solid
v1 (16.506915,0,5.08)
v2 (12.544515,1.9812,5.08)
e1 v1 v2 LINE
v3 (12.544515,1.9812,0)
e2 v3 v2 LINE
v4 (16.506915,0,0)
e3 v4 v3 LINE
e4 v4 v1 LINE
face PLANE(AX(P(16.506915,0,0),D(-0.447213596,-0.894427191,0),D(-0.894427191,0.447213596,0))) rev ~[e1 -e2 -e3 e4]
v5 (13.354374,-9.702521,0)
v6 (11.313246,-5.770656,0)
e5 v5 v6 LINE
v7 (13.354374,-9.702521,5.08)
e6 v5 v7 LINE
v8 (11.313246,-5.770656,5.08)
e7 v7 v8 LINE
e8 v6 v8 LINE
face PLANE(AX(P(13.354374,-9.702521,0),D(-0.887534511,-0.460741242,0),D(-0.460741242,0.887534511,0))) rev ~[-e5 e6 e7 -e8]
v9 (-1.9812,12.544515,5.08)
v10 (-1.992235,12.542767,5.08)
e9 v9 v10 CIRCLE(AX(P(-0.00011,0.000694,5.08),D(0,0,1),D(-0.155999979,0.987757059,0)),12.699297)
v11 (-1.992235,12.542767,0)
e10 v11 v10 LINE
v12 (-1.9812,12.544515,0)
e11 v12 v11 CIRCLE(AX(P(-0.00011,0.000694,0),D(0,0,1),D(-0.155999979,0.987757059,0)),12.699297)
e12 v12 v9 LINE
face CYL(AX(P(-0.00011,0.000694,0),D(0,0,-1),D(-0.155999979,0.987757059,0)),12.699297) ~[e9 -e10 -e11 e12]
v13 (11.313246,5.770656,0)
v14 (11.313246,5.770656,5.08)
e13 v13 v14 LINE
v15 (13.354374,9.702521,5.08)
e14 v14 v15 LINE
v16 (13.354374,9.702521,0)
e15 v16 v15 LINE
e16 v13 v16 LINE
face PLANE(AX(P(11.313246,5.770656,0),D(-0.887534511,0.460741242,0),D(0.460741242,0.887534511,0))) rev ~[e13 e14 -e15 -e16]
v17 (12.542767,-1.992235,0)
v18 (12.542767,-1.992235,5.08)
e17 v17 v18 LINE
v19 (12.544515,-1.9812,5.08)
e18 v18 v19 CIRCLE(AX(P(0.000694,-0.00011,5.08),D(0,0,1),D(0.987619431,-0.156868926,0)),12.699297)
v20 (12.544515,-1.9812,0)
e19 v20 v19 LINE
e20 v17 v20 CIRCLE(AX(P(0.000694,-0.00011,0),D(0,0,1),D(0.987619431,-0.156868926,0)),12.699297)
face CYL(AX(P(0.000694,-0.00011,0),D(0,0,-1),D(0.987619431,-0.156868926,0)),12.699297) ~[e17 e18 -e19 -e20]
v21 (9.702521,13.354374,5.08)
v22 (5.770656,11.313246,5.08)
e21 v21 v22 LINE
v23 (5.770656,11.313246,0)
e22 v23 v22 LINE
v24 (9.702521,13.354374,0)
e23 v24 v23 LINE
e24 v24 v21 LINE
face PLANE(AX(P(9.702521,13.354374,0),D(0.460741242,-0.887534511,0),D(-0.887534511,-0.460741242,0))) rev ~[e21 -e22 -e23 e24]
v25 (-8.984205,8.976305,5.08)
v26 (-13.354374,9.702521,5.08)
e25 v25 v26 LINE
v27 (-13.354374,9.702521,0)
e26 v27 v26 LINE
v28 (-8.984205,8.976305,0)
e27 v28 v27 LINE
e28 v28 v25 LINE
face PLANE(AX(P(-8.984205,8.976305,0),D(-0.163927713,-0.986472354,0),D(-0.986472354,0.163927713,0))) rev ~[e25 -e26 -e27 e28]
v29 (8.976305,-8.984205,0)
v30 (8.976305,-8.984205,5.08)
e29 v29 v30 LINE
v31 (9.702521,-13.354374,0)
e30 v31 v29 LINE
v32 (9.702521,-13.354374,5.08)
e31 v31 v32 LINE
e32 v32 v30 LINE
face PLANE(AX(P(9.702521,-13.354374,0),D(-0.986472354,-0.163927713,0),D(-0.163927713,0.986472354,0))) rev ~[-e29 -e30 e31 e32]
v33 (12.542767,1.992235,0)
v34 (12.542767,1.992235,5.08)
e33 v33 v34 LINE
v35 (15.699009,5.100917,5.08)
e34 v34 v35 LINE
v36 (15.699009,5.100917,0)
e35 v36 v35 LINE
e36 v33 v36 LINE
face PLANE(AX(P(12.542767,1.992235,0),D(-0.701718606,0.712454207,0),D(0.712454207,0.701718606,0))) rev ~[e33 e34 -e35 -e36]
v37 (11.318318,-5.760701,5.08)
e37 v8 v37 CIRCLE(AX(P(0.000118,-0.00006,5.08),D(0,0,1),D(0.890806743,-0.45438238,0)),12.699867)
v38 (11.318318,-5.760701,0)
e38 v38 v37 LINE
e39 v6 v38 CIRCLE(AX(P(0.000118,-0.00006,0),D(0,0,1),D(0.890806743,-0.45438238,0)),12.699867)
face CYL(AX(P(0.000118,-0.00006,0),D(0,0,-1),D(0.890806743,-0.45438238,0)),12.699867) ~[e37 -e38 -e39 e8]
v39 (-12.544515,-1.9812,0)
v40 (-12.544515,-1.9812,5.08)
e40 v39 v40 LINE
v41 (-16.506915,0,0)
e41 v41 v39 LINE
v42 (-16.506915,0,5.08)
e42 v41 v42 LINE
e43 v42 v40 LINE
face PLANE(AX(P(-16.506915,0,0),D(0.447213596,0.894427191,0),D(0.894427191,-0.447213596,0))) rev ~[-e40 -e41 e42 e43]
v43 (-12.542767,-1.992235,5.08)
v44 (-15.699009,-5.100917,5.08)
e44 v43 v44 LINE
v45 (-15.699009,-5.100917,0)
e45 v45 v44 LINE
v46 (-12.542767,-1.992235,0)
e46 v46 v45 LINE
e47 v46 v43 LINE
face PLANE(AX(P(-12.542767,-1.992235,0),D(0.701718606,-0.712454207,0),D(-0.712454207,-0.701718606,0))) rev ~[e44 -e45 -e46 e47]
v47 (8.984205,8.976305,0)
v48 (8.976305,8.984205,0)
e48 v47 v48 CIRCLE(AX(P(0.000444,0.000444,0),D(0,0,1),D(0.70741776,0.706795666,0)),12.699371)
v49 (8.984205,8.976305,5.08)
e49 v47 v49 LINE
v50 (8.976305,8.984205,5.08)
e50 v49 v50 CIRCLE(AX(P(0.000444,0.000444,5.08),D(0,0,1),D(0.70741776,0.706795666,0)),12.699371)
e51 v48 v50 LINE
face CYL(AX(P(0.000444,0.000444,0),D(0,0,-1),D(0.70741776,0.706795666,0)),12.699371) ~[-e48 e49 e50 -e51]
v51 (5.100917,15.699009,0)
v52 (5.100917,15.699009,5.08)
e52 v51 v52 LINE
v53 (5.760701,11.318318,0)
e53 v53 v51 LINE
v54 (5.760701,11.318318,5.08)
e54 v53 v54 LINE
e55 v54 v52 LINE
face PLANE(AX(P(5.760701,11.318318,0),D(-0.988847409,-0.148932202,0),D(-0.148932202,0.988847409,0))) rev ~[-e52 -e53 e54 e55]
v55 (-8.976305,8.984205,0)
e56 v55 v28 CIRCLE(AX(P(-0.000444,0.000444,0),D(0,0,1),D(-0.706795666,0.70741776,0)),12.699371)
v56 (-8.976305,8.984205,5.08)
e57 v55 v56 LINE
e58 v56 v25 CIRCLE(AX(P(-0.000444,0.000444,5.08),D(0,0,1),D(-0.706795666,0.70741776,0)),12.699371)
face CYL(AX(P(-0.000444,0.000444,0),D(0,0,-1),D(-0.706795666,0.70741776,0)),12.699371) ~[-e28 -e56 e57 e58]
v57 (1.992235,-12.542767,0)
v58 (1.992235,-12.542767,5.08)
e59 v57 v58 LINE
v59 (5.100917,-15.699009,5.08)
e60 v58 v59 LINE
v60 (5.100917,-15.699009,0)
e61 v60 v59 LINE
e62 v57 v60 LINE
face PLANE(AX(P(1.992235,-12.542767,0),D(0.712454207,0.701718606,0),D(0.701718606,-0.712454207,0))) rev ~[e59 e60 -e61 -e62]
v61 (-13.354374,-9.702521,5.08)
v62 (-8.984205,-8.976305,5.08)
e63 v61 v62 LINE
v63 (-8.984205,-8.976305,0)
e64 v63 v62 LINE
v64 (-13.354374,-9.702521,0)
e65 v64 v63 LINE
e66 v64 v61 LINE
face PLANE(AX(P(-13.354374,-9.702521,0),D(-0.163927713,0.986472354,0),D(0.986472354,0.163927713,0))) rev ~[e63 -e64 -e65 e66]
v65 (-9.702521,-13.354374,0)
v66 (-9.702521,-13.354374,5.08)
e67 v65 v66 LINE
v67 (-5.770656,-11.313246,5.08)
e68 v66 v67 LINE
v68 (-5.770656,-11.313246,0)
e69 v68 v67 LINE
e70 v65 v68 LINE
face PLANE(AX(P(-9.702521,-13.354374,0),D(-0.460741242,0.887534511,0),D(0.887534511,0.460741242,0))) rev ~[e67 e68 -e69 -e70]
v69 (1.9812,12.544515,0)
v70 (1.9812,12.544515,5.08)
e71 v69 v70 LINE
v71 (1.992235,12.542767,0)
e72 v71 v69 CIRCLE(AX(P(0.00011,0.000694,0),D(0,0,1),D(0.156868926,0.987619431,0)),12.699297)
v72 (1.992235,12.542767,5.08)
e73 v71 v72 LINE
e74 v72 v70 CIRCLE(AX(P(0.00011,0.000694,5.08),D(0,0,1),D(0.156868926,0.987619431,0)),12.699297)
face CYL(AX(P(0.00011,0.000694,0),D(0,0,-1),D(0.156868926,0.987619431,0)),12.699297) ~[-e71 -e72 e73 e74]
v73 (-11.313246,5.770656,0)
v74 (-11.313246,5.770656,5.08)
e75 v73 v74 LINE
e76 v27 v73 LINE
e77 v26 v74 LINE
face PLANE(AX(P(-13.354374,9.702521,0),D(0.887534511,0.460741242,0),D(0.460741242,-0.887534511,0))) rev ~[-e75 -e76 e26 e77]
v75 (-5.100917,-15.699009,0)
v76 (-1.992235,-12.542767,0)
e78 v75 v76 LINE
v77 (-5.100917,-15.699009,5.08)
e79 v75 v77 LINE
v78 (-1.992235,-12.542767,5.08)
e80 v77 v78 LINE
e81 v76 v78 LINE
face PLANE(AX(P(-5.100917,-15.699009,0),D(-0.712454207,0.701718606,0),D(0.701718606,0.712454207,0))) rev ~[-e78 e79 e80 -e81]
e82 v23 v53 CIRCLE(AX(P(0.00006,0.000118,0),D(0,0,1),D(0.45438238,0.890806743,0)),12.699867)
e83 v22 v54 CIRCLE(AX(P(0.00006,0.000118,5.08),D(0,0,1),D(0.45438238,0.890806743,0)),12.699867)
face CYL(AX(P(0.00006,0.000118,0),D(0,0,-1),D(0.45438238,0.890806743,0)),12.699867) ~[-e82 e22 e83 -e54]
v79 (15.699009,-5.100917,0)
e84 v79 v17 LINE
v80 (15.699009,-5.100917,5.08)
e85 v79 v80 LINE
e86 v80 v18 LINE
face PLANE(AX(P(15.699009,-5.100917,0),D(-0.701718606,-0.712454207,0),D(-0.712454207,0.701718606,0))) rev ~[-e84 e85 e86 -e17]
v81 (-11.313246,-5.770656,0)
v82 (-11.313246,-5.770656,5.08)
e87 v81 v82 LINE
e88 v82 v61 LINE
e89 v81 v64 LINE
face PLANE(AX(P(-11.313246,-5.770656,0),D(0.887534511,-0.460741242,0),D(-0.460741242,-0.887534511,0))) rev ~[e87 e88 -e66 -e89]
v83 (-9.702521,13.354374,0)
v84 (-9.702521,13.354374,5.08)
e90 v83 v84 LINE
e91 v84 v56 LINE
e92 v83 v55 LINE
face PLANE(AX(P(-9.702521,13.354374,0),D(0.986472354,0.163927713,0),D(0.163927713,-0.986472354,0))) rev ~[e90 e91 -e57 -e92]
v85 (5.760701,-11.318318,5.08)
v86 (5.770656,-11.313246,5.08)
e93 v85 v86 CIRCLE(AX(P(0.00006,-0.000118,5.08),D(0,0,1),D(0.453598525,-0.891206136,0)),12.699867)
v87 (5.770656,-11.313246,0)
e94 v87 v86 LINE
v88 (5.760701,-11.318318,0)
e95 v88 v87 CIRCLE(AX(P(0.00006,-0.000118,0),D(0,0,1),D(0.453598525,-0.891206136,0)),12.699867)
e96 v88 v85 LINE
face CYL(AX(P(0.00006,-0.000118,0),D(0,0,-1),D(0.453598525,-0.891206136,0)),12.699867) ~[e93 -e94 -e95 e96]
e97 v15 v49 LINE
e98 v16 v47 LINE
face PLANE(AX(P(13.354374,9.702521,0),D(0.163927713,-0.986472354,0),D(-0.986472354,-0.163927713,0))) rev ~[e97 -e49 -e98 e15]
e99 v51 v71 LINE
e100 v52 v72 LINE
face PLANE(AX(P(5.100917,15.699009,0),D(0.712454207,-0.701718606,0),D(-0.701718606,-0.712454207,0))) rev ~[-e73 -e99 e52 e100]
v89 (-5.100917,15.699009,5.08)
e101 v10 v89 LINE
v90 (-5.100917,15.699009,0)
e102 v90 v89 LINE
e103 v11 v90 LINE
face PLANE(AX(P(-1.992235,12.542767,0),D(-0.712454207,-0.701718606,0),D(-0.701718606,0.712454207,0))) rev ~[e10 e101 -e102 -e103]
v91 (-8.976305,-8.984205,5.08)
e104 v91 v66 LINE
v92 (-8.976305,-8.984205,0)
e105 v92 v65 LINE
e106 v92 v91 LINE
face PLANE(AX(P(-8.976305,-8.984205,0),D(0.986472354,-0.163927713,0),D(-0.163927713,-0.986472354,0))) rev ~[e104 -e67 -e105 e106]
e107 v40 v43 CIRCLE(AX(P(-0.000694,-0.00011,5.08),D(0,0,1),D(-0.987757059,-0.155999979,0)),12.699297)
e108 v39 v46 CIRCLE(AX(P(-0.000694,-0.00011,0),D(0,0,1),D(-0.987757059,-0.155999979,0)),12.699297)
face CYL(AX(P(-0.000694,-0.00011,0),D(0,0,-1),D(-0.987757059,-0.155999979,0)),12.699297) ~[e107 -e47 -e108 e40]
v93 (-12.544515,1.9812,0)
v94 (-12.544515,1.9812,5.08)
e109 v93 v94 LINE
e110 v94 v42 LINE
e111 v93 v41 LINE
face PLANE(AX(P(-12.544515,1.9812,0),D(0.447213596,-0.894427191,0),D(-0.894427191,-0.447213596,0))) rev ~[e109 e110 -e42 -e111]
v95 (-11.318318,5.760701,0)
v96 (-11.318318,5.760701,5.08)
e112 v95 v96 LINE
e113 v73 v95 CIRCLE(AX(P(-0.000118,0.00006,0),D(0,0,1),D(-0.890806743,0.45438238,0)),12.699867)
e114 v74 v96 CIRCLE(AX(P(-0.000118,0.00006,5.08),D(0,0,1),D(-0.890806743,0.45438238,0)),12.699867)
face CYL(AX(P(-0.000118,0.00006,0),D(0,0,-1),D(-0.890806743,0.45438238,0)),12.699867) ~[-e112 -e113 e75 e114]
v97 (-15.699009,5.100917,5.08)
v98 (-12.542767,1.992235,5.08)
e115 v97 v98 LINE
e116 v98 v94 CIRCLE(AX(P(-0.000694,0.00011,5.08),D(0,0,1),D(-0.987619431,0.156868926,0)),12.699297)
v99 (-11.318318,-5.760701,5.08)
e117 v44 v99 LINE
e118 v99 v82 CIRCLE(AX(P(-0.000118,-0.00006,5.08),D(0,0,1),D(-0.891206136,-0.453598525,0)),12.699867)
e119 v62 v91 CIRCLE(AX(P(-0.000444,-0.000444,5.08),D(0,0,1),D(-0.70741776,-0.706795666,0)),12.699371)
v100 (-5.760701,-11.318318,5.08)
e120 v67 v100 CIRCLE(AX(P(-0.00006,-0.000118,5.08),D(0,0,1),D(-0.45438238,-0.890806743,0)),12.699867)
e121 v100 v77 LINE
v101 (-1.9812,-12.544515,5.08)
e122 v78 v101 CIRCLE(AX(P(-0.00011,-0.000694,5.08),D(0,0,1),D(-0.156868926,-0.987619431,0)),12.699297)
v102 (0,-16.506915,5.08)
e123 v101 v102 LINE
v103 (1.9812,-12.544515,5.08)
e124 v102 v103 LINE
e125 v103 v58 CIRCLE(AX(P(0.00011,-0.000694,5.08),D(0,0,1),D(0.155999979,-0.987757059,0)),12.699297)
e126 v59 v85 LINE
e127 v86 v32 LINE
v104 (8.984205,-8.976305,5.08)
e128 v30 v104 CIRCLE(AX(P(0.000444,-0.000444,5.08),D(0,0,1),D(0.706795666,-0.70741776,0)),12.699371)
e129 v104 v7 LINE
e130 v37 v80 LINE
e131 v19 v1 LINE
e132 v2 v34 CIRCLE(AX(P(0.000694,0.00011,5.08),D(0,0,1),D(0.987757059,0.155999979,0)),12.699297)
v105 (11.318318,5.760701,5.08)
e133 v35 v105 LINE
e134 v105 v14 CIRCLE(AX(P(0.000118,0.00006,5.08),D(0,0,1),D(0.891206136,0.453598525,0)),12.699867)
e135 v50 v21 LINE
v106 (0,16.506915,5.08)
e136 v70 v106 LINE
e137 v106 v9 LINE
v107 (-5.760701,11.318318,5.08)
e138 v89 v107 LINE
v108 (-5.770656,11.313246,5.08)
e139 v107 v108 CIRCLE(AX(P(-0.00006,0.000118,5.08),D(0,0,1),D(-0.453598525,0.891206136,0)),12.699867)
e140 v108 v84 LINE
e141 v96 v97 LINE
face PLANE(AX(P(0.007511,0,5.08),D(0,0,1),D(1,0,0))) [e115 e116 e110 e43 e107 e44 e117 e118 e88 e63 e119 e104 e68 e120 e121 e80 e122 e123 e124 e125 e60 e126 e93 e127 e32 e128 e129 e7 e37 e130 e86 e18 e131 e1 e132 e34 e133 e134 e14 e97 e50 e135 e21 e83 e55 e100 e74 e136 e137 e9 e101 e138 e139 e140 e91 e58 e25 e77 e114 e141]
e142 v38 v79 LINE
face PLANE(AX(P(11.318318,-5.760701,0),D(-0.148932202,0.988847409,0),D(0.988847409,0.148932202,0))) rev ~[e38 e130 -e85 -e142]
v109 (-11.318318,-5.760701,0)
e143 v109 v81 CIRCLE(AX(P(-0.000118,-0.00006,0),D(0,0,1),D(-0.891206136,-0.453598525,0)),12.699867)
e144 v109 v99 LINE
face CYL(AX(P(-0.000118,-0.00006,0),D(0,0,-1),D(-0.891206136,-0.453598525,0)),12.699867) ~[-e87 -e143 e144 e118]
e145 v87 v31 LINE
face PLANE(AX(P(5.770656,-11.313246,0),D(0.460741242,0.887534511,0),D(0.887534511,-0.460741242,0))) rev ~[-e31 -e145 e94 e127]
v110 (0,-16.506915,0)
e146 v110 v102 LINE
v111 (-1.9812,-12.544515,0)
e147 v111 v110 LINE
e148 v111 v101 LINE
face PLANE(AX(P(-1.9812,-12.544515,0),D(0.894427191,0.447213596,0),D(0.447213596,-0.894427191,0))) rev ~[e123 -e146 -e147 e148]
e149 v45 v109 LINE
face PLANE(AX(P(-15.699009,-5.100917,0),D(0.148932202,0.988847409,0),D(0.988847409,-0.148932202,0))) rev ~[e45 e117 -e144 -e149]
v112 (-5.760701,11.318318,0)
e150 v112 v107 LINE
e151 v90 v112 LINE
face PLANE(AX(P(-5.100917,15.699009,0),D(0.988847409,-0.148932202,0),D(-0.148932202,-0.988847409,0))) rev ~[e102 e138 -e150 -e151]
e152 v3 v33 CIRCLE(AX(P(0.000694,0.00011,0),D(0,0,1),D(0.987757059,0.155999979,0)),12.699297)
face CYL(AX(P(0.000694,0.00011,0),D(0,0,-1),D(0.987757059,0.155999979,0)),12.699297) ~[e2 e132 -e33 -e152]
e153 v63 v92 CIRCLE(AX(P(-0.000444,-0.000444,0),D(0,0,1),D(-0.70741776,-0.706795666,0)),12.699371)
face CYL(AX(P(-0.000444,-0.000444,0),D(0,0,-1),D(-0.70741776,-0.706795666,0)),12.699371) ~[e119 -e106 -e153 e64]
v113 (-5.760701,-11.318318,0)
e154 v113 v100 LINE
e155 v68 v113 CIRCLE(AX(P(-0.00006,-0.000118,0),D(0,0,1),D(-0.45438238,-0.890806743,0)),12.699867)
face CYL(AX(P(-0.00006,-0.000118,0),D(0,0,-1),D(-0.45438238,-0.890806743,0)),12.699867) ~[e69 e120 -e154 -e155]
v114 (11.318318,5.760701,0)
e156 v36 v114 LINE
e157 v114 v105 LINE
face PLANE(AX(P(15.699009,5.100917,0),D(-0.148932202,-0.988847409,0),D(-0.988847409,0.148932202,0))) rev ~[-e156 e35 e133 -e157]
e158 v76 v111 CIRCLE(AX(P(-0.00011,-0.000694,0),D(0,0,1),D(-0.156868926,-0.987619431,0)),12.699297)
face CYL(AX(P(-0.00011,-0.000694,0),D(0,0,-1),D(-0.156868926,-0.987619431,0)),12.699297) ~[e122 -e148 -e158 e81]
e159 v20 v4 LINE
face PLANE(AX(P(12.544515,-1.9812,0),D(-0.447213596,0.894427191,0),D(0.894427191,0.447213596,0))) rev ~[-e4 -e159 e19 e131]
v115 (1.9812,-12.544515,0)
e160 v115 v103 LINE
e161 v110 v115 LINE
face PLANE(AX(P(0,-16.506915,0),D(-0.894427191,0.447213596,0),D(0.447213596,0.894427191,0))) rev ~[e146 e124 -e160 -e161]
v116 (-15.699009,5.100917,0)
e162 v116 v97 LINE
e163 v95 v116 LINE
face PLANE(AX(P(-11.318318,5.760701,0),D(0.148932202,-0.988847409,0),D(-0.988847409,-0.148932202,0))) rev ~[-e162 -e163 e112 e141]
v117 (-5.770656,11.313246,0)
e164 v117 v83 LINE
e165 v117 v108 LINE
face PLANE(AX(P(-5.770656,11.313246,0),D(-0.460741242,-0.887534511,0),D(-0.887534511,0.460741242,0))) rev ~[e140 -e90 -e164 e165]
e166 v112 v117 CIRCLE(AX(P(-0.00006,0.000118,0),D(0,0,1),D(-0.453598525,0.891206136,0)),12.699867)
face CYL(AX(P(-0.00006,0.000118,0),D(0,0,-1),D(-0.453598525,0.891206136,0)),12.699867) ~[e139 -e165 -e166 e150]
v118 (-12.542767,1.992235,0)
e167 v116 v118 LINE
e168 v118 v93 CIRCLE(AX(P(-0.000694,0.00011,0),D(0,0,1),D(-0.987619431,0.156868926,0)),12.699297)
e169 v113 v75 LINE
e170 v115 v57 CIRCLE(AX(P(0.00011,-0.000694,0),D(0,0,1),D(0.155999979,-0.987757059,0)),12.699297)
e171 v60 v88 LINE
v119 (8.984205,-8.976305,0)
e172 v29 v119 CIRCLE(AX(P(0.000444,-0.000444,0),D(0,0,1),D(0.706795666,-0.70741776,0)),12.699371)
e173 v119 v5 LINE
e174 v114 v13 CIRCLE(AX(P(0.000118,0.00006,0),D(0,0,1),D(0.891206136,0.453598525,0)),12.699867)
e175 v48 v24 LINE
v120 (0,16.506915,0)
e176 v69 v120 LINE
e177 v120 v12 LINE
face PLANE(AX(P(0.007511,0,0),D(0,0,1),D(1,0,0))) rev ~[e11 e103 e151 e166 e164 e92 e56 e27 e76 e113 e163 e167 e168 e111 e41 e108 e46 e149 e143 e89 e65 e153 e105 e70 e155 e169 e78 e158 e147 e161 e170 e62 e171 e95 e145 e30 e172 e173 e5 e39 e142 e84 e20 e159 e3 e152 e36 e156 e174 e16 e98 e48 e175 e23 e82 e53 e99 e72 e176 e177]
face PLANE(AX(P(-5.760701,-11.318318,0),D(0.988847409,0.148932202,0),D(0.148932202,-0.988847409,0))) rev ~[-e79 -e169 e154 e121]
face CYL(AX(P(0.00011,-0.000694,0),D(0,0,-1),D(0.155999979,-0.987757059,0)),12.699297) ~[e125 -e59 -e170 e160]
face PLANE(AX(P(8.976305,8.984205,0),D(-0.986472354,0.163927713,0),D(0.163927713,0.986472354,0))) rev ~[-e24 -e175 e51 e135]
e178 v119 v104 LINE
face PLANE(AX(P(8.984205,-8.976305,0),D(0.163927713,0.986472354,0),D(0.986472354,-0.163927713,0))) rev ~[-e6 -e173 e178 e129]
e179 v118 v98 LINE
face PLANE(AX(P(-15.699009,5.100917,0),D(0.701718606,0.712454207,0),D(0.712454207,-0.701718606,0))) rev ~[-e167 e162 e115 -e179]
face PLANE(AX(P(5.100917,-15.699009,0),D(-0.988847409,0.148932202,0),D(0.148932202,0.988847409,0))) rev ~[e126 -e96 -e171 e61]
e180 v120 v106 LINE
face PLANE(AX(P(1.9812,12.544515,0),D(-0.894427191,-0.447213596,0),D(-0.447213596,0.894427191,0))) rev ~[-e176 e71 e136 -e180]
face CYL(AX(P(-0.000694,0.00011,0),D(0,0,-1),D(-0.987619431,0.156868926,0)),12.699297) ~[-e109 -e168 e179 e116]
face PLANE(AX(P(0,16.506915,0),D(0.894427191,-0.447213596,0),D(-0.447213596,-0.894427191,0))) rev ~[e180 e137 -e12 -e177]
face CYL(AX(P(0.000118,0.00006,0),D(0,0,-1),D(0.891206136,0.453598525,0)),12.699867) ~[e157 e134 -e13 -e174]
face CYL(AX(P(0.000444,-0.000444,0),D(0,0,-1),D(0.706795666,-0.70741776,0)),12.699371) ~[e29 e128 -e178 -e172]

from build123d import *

# Parameters (mm, degrees)
F0_R     = 11.43
F0_R_2   = 5.08
F0_R_3   = 3.81
F1_DEPTH = 5.08


with BuildPart() as f1:
    # F0 (on Top) → F1 (new body)
    with BuildSketch(Plane.XY):
        with BuildLine():
            ThreePointArc((12.5445146004, -1.9812), (12.6610689799, -0.9936459568), (12.7, 0))
            ThreePointArc((12.7, 0), (12.6610689799, 0.9936459568), (12.5445146004, 1.9812))
            ThreePointArc((12.5445146004, 1.9812), (12.5436419256, 1.986717706), (12.5427668237, 1.9922350276))
            ThreePointArc((12.5427668237, 1.9922350276), (12.0784177569, 3.9245158286), (11.3183178852, 5.7607013678))
            ThreePointArc((11.3183178852, 5.7607013678), (11.3157828572, 5.7656793467), (11.3132456398, 5.77065621))
            ThreePointArc((11.3132456398, 5.77065621), (10.2745158286, 7.4648727041), (8.9842053561, 8.9763051485))
            ThreePointArc((8.9842053561, 8.9763051485), (8.9802561211, 8.9802561211), (8.9763051485, 8.9842053561))
            ThreePointArc((8.9763051485, 8.9842053561), (7.4648727041, 10.2745158286), (5.77065621, 11.3132456398))
            ThreePointArc((5.77065621, 11.3132456398), (5.7656793467, 11.3157828572), (5.7607013678, 11.3183178852))
            ThreePointArc((5.7607013678, 11.3183178852), (3.9245158286, 12.0784177569), (1.9922350276, 12.5427668237))
            ThreePointArc((1.9922350276, 12.5427668237), (1.986717706, 12.5436419256), (1.9812, 12.5445146004))
            ThreePointArc((1.9812, 12.5445146004), (0, 12.7), (-1.9812, 12.5445146004))
            ThreePointArc((-1.9812, 12.5445146004), (-1.986717706, 12.5436419256), (-1.9922350276, 12.5427668237))
            ThreePointArc((-1.9922350276, 12.5427668237), (-3.9245158286, 12.0784177569), (-5.7607013678, 11.3183178852))
            ThreePointArc((-5.7607013678, 11.3183178852), (-5.7656793467, 11.3157828572), (-5.77065621, 11.3132456398))
            ThreePointArc((-5.77065621, 11.3132456398), (-7.4648727041, 10.2745158286), (-8.9763051485, 8.9842053561))
            ThreePointArc((-8.9763051485, 8.9842053561), (-8.9802561211, 8.9802561211), (-8.9842053561, 8.9763051485))
            ThreePointArc((-8.9842053561, 8.9763051485), (-10.2745158286, 7.4648727041), (-11.3132456398, 5.77065621))
            ThreePointArc((-11.3132456398, 5.77065621), (-11.3157828572, 5.7656793467), (-11.3183178852, 5.7607013678))
            ThreePointArc((-11.3183178852, 5.7607013678), (-12.0784177569, 3.9245158286), (-12.5427668237, 1.9922350276))
            ThreePointArc((-12.5427668237, 1.9922350276), (-12.5436419256, 1.986717706), (-12.5445146004, 1.9812))
            Line((-12.5445146004, 1.9812), (-12.5445146004, 0))
            Line((-12.5445146004, 0), (-12.5445146004, -1.9812))
            ThreePointArc((-12.5445146004, -1.9812), (-12.5436419256, -1.986717706), (-12.5427668237, -1.9922350276))
            ThreePointArc((-12.5427668237, -1.9922350276), (-12.0784177569, -3.9245158286), (-11.3183178852, -5.7607013678))
            ThreePointArc((-11.3183178852, -5.7607013678), (-11.3157828572, -5.7656793467), (-11.3132456398, -5.77065621))
            ThreePointArc((-11.3132456398, -5.77065621), (-10.2745158286, -7.4648727041), (-8.9842053561, -8.9763051485))
            ThreePointArc((-8.9842053561, -8.9763051485), (-8.9802561211, -8.9802561211), (-8.9763051485, -8.9842053561))
            ThreePointArc((-8.9763051485, -8.9842053561), (-7.4648727041, -10.2745158286), (-5.77065621, -11.3132456398))
            ThreePointArc((-5.77065621, -11.3132456398), (-5.7656793467, -11.3157828572), (-5.7607013678, -11.3183178852))
            ThreePointArc((-5.7607013678, -11.3183178852), (-3.9245158286, -12.0784177569), (-1.9922350276, -12.5427668237))
            ThreePointArc((-1.9922350276, -12.5427668237), (-1.986717706, -12.5436419256), (-1.9812, -12.5445146004))
            ThreePointArc((-1.9812, -12.5445146004), (0, -12.7), (1.9812, -12.5445146004))
            ThreePointArc((1.9812, -12.5445146004), (1.986717706, -12.5436419256), (1.9922350276, -12.5427668237))
            ThreePointArc((1.9922350276, -12.5427668237), (3.9245158286, -12.0784177569), (5.7607013678, -11.3183178852))
            ThreePointArc((5.7607013678, -11.3183178852), (5.7656793467, -11.3157828572), (5.77065621, -11.3132456398))
            ThreePointArc((5.77065621, -11.3132456398), (7.4648727041, -10.2745158286), (8.9763051485, -8.9842053561))
            ThreePointArc((8.9763051485, -8.9842053561), (8.9802561211, -8.9802561211), (8.9842053561, -8.9763051485))
            ThreePointArc((8.9842053561, -8.9763051485), (10.2745158286, -7.4648727041), (11.3132456398, -5.77065621))
            ThreePointArc((11.3132456398, -5.77065621), (11.3157828572, -5.7656793467), (11.3183178852, -5.7607013678))
            ThreePointArc((11.3183178852, -5.7607013678), (12.0784177569, -3.9245158286), (12.5427668237, -1.9922350276))
            ThreePointArc((12.5427668237, -1.9922350276), (12.5436419256, -1.986717706), (12.5445146004, -1.9812))
        make_face()
        Circle(F0_R, mode=Mode.SUBTRACT)
        Circle(F0_R)
        Circle(F0_R_2, mode=Mode.SUBTRACT)
        Circle(F0_R_2)
        Circle(F0_R_3, mode=Mode.SUBTRACT)
        Circle(F0_R_3)
        with BuildLine():
            ThreePointArc((12.5445146004, 1.9812), (12.6610689799, 0.9936459568), (12.7, 0))
            ThreePointArc((12.7, 0), (12.6610689799, -0.9936459568), (12.5445146004, -1.9812))
            Line((12.5445146004, -1.9812), (16.5069146004, 0))
            Line((16.5069146004, 0), (12.5445146004, 1.9812))
        make_face()
        with BuildLine():
            ThreePointArc((11.3183178852, 5.7607013678), (12.0784177569, 3.9245158286), (12.5427668237, 1.9922350276))
            Line((12.5427668237, 1.9922350276), (15.6990086947, 5.1009171362))
            Line((15.6990086947, 5.1009171362), (11.3183178852, 5.7607013678))
        make_face()
        with BuildLine():
            Line((15.6990086947, -5.1009171362), (12.5427668237, -1.9922350276))
            ThreePointArc((12.5427668237, -1.9922350276), (12.0784177569, -3.9245158286), (11.3183178852, -5.7607013678))
            Line((11.3183178852, -5.7607013678), (15.6990086947, -5.1009171362))
        make_face()
        with BuildLine():
            ThreePointArc((8.9842053561, 8.9763051485), (10.2745158286, 7.4648727041), (11.3132456398, 5.77065621))
            Line((11.3132456398, 5.77065621), (13.3543744364, 9.702520963))
            Line((13.3543744364, 9.702520963), (8.9842053561, 8.9763051485))
        make_face()
        with BuildLine():
            Line((13.3543744364, -9.702520963), (11.3132456398, -5.77065621))
            ThreePointArc((11.3132456398, -5.77065621), (10.2745158286, -7.4648727041), (8.9842053561, -8.9763051485))
            Line((8.9842053561, -8.9763051485), (13.3543744364, -9.702520963))
        make_face()
        with BuildLine():
            ThreePointArc((5.77065621, 11.3132456398), (7.4648727041, 10.2745158286), (8.9763051485, 8.9842053561))
            Line((8.9763051485, 8.9842053561), (9.702520963, 13.3543744364))
            Line((9.702520963, 13.3543744364), (5.77065621, 11.3132456398))
        make_face()
        with BuildLine():
            Line((9.702520963, -13.3543744364), (8.9763051485, -8.9842053561))
            ThreePointArc((8.9763051485, -8.9842053561), (7.4648727041, -10.2745158286), (5.77065621, -11.3132456398))
            Line((5.77065621, -11.3132456398), (9.702520963, -13.3543744364))
        make_face()
        with BuildLine():
            ThreePointArc((1.9922350276, 12.5427668237), (3.9245158286, 12.0784177569), (5.7607013678, 11.3183178852))
            Line((5.7607013678, 11.3183178852), (5.1009171362, 15.6990086947))
            Line((5.1009171362, 15.6990086947), (1.9922350276, 12.5427668237))
        make_face()
        with BuildLine():
            Line((5.1009171362, -15.6990086947), (5.7607013678, -11.3183178852))
            ThreePointArc((5.7607013678, -11.3183178852), (3.9245158286, -12.0784177569), (1.9922350276, -12.5427668237))
            Line((1.9922350276, -12.5427668237), (5.1009171362, -15.6990086947))
        make_face()
        with BuildLine():
            ThreePointArc((-1.9812, 12.5445146004), (0, 12.7), (1.9812, 12.5445146004))
            Line((1.9812, 12.5445146004), (0, 16.5069146004))
            Line((0, 16.5069146004), (-1.9812, 12.5445146004))
        make_face()
        with BuildLine():
            Line((0, -16.5069146004), (1.9812, -12.5445146004))
            ThreePointArc((1.9812, -12.5445146004), (0, -12.7), (-1.9812, -12.5445146004))
            Line((-1.9812, -12.5445146004), (0, -16.5069146004))
        make_face()
        with BuildLine():
            ThreePointArc((-5.7607013678, 11.3183178852), (-3.9245158286, 12.0784177569), (-1.9922350276, 12.5427668237))
            Line((-1.9922350276, 12.5427668237), (-5.1009171362, 15.6990086947))
            Line((-5.1009171362, 15.6990086947), (-5.7607013678, 11.3183178852))
        make_face()
        with BuildLine():
            Line((-5.1009171362, -15.6990086947), (-1.9922350276, -12.5427668237))
            ThreePointArc((-1.9922350276, -12.5427668237), (-3.9245158286, -12.0784177569), (-5.7607013678, -11.3183178852))
            Line((-5.7607013678, -11.3183178852), (-5.1009171362, -15.6990086947))
        make_face()
        with BuildLine():
            ThreePointArc((-8.9763051485, 8.9842053561), (-7.4648727041, 10.2745158286), (-5.77065621, 11.3132456398))
            Line((-5.77065621, 11.3132456398), (-9.702520963, 13.3543744364))
            Line((-9.702520963, 13.3543744364), (-8.9763051485, 8.9842053561))
        make_face()
        with BuildLine():
            Line((-9.702520963, -13.3543744364), (-5.77065621, -11.3132456398))
            ThreePointArc((-5.77065621, -11.3132456398), (-7.4648727041, -10.2745158286), (-8.9763051485, -8.9842053561))
            Line((-8.9763051485, -8.9842053561), (-9.702520963, -13.3543744364))
        make_face()
        with BuildLine():
            ThreePointArc((-11.3132456398, 5.77065621), (-10.2745158286, 7.4648727041), (-8.9842053561, 8.9763051485))
            Line((-8.9842053561, 8.9763051485), (-13.3543744364, 9.702520963))
            Line((-13.3543744364, 9.702520963), (-11.3132456398, 5.77065621))
        make_face()
        with BuildLine():
            Line((-13.3543744364, -9.702520963), (-8.9842053561, -8.9763051485))
            ThreePointArc((-8.9842053561, -8.9763051485), (-10.2745158286, -7.4648727041), (-11.3132456398, -5.77065621))
            Line((-11.3132456398, -5.77065621), (-13.3543744364, -9.702520963))
        make_face()
        with BuildLine():
            ThreePointArc((-12.5427668237, 1.9922350276), (-12.0784177569, 3.9245158286), (-11.3183178852, 5.7607013678))
            Line((-11.3183178852, 5.7607013678), (-15.6990086947, 5.1009171362))
            Line((-15.6990086947, 5.1009171362), (-12.5427668237, 1.9922350276))
        make_face()
        with BuildLine():
            Line((-15.6990086947, -5.1009171362), (-11.3183178852, -5.7607013678))
            ThreePointArc((-11.3183178852, -5.7607013678), (-12.0784177569, -3.9245158286), (-12.5427668237, -1.9922350276))
            Line((-12.5427668237, -1.9922350276), (-15.6990086947, -5.1009171362))
        make_face()
        with BuildLine():
            ThreePointArc((-12.7, 0), (-12.6610689799, 0.9936459568), (-12.5445146004, 1.9812))
            Line((-12.5445146004, 1.9812), (-16.5069146004, 0))
            Line((-16.5069146004, 0), (-12.7, 0))
        make_face()
        with BuildLine():
            Line((-16.5069146004, 0), (-12.5445146004, -1.9812))
            ThreePointArc((-12.5445146004, -1.9812), (-12.6610689799, -0.9936459568), (-12.7, 0))
            Line((-12.7, 0), (-16.5069146004, 0))
        make_face()
        with BuildLine():
            Line((-12.5445146004, 0), (-12.5445146004, 1.9812))
            ThreePointArc((-12.5445146004, 1.9812), (-12.6610689799, 0.9936459568), (-12.7, 0))
            Line((-12.7, 0), (-12.5445146004, 0))
        make_face()
        with BuildLine():
            ThreePointArc((-12.7, 0), (-12.6610689799, -0.9936459568), (-12.5445146004, -1.9812))
            Line((-12.5445146004, -1.9812), (-12.5445146004, 0))
            Line((-12.5445146004, 0), (-12.7, 0))
        make_face()
    extrude(amount=F1_DEPTH)


solid = f1.part
